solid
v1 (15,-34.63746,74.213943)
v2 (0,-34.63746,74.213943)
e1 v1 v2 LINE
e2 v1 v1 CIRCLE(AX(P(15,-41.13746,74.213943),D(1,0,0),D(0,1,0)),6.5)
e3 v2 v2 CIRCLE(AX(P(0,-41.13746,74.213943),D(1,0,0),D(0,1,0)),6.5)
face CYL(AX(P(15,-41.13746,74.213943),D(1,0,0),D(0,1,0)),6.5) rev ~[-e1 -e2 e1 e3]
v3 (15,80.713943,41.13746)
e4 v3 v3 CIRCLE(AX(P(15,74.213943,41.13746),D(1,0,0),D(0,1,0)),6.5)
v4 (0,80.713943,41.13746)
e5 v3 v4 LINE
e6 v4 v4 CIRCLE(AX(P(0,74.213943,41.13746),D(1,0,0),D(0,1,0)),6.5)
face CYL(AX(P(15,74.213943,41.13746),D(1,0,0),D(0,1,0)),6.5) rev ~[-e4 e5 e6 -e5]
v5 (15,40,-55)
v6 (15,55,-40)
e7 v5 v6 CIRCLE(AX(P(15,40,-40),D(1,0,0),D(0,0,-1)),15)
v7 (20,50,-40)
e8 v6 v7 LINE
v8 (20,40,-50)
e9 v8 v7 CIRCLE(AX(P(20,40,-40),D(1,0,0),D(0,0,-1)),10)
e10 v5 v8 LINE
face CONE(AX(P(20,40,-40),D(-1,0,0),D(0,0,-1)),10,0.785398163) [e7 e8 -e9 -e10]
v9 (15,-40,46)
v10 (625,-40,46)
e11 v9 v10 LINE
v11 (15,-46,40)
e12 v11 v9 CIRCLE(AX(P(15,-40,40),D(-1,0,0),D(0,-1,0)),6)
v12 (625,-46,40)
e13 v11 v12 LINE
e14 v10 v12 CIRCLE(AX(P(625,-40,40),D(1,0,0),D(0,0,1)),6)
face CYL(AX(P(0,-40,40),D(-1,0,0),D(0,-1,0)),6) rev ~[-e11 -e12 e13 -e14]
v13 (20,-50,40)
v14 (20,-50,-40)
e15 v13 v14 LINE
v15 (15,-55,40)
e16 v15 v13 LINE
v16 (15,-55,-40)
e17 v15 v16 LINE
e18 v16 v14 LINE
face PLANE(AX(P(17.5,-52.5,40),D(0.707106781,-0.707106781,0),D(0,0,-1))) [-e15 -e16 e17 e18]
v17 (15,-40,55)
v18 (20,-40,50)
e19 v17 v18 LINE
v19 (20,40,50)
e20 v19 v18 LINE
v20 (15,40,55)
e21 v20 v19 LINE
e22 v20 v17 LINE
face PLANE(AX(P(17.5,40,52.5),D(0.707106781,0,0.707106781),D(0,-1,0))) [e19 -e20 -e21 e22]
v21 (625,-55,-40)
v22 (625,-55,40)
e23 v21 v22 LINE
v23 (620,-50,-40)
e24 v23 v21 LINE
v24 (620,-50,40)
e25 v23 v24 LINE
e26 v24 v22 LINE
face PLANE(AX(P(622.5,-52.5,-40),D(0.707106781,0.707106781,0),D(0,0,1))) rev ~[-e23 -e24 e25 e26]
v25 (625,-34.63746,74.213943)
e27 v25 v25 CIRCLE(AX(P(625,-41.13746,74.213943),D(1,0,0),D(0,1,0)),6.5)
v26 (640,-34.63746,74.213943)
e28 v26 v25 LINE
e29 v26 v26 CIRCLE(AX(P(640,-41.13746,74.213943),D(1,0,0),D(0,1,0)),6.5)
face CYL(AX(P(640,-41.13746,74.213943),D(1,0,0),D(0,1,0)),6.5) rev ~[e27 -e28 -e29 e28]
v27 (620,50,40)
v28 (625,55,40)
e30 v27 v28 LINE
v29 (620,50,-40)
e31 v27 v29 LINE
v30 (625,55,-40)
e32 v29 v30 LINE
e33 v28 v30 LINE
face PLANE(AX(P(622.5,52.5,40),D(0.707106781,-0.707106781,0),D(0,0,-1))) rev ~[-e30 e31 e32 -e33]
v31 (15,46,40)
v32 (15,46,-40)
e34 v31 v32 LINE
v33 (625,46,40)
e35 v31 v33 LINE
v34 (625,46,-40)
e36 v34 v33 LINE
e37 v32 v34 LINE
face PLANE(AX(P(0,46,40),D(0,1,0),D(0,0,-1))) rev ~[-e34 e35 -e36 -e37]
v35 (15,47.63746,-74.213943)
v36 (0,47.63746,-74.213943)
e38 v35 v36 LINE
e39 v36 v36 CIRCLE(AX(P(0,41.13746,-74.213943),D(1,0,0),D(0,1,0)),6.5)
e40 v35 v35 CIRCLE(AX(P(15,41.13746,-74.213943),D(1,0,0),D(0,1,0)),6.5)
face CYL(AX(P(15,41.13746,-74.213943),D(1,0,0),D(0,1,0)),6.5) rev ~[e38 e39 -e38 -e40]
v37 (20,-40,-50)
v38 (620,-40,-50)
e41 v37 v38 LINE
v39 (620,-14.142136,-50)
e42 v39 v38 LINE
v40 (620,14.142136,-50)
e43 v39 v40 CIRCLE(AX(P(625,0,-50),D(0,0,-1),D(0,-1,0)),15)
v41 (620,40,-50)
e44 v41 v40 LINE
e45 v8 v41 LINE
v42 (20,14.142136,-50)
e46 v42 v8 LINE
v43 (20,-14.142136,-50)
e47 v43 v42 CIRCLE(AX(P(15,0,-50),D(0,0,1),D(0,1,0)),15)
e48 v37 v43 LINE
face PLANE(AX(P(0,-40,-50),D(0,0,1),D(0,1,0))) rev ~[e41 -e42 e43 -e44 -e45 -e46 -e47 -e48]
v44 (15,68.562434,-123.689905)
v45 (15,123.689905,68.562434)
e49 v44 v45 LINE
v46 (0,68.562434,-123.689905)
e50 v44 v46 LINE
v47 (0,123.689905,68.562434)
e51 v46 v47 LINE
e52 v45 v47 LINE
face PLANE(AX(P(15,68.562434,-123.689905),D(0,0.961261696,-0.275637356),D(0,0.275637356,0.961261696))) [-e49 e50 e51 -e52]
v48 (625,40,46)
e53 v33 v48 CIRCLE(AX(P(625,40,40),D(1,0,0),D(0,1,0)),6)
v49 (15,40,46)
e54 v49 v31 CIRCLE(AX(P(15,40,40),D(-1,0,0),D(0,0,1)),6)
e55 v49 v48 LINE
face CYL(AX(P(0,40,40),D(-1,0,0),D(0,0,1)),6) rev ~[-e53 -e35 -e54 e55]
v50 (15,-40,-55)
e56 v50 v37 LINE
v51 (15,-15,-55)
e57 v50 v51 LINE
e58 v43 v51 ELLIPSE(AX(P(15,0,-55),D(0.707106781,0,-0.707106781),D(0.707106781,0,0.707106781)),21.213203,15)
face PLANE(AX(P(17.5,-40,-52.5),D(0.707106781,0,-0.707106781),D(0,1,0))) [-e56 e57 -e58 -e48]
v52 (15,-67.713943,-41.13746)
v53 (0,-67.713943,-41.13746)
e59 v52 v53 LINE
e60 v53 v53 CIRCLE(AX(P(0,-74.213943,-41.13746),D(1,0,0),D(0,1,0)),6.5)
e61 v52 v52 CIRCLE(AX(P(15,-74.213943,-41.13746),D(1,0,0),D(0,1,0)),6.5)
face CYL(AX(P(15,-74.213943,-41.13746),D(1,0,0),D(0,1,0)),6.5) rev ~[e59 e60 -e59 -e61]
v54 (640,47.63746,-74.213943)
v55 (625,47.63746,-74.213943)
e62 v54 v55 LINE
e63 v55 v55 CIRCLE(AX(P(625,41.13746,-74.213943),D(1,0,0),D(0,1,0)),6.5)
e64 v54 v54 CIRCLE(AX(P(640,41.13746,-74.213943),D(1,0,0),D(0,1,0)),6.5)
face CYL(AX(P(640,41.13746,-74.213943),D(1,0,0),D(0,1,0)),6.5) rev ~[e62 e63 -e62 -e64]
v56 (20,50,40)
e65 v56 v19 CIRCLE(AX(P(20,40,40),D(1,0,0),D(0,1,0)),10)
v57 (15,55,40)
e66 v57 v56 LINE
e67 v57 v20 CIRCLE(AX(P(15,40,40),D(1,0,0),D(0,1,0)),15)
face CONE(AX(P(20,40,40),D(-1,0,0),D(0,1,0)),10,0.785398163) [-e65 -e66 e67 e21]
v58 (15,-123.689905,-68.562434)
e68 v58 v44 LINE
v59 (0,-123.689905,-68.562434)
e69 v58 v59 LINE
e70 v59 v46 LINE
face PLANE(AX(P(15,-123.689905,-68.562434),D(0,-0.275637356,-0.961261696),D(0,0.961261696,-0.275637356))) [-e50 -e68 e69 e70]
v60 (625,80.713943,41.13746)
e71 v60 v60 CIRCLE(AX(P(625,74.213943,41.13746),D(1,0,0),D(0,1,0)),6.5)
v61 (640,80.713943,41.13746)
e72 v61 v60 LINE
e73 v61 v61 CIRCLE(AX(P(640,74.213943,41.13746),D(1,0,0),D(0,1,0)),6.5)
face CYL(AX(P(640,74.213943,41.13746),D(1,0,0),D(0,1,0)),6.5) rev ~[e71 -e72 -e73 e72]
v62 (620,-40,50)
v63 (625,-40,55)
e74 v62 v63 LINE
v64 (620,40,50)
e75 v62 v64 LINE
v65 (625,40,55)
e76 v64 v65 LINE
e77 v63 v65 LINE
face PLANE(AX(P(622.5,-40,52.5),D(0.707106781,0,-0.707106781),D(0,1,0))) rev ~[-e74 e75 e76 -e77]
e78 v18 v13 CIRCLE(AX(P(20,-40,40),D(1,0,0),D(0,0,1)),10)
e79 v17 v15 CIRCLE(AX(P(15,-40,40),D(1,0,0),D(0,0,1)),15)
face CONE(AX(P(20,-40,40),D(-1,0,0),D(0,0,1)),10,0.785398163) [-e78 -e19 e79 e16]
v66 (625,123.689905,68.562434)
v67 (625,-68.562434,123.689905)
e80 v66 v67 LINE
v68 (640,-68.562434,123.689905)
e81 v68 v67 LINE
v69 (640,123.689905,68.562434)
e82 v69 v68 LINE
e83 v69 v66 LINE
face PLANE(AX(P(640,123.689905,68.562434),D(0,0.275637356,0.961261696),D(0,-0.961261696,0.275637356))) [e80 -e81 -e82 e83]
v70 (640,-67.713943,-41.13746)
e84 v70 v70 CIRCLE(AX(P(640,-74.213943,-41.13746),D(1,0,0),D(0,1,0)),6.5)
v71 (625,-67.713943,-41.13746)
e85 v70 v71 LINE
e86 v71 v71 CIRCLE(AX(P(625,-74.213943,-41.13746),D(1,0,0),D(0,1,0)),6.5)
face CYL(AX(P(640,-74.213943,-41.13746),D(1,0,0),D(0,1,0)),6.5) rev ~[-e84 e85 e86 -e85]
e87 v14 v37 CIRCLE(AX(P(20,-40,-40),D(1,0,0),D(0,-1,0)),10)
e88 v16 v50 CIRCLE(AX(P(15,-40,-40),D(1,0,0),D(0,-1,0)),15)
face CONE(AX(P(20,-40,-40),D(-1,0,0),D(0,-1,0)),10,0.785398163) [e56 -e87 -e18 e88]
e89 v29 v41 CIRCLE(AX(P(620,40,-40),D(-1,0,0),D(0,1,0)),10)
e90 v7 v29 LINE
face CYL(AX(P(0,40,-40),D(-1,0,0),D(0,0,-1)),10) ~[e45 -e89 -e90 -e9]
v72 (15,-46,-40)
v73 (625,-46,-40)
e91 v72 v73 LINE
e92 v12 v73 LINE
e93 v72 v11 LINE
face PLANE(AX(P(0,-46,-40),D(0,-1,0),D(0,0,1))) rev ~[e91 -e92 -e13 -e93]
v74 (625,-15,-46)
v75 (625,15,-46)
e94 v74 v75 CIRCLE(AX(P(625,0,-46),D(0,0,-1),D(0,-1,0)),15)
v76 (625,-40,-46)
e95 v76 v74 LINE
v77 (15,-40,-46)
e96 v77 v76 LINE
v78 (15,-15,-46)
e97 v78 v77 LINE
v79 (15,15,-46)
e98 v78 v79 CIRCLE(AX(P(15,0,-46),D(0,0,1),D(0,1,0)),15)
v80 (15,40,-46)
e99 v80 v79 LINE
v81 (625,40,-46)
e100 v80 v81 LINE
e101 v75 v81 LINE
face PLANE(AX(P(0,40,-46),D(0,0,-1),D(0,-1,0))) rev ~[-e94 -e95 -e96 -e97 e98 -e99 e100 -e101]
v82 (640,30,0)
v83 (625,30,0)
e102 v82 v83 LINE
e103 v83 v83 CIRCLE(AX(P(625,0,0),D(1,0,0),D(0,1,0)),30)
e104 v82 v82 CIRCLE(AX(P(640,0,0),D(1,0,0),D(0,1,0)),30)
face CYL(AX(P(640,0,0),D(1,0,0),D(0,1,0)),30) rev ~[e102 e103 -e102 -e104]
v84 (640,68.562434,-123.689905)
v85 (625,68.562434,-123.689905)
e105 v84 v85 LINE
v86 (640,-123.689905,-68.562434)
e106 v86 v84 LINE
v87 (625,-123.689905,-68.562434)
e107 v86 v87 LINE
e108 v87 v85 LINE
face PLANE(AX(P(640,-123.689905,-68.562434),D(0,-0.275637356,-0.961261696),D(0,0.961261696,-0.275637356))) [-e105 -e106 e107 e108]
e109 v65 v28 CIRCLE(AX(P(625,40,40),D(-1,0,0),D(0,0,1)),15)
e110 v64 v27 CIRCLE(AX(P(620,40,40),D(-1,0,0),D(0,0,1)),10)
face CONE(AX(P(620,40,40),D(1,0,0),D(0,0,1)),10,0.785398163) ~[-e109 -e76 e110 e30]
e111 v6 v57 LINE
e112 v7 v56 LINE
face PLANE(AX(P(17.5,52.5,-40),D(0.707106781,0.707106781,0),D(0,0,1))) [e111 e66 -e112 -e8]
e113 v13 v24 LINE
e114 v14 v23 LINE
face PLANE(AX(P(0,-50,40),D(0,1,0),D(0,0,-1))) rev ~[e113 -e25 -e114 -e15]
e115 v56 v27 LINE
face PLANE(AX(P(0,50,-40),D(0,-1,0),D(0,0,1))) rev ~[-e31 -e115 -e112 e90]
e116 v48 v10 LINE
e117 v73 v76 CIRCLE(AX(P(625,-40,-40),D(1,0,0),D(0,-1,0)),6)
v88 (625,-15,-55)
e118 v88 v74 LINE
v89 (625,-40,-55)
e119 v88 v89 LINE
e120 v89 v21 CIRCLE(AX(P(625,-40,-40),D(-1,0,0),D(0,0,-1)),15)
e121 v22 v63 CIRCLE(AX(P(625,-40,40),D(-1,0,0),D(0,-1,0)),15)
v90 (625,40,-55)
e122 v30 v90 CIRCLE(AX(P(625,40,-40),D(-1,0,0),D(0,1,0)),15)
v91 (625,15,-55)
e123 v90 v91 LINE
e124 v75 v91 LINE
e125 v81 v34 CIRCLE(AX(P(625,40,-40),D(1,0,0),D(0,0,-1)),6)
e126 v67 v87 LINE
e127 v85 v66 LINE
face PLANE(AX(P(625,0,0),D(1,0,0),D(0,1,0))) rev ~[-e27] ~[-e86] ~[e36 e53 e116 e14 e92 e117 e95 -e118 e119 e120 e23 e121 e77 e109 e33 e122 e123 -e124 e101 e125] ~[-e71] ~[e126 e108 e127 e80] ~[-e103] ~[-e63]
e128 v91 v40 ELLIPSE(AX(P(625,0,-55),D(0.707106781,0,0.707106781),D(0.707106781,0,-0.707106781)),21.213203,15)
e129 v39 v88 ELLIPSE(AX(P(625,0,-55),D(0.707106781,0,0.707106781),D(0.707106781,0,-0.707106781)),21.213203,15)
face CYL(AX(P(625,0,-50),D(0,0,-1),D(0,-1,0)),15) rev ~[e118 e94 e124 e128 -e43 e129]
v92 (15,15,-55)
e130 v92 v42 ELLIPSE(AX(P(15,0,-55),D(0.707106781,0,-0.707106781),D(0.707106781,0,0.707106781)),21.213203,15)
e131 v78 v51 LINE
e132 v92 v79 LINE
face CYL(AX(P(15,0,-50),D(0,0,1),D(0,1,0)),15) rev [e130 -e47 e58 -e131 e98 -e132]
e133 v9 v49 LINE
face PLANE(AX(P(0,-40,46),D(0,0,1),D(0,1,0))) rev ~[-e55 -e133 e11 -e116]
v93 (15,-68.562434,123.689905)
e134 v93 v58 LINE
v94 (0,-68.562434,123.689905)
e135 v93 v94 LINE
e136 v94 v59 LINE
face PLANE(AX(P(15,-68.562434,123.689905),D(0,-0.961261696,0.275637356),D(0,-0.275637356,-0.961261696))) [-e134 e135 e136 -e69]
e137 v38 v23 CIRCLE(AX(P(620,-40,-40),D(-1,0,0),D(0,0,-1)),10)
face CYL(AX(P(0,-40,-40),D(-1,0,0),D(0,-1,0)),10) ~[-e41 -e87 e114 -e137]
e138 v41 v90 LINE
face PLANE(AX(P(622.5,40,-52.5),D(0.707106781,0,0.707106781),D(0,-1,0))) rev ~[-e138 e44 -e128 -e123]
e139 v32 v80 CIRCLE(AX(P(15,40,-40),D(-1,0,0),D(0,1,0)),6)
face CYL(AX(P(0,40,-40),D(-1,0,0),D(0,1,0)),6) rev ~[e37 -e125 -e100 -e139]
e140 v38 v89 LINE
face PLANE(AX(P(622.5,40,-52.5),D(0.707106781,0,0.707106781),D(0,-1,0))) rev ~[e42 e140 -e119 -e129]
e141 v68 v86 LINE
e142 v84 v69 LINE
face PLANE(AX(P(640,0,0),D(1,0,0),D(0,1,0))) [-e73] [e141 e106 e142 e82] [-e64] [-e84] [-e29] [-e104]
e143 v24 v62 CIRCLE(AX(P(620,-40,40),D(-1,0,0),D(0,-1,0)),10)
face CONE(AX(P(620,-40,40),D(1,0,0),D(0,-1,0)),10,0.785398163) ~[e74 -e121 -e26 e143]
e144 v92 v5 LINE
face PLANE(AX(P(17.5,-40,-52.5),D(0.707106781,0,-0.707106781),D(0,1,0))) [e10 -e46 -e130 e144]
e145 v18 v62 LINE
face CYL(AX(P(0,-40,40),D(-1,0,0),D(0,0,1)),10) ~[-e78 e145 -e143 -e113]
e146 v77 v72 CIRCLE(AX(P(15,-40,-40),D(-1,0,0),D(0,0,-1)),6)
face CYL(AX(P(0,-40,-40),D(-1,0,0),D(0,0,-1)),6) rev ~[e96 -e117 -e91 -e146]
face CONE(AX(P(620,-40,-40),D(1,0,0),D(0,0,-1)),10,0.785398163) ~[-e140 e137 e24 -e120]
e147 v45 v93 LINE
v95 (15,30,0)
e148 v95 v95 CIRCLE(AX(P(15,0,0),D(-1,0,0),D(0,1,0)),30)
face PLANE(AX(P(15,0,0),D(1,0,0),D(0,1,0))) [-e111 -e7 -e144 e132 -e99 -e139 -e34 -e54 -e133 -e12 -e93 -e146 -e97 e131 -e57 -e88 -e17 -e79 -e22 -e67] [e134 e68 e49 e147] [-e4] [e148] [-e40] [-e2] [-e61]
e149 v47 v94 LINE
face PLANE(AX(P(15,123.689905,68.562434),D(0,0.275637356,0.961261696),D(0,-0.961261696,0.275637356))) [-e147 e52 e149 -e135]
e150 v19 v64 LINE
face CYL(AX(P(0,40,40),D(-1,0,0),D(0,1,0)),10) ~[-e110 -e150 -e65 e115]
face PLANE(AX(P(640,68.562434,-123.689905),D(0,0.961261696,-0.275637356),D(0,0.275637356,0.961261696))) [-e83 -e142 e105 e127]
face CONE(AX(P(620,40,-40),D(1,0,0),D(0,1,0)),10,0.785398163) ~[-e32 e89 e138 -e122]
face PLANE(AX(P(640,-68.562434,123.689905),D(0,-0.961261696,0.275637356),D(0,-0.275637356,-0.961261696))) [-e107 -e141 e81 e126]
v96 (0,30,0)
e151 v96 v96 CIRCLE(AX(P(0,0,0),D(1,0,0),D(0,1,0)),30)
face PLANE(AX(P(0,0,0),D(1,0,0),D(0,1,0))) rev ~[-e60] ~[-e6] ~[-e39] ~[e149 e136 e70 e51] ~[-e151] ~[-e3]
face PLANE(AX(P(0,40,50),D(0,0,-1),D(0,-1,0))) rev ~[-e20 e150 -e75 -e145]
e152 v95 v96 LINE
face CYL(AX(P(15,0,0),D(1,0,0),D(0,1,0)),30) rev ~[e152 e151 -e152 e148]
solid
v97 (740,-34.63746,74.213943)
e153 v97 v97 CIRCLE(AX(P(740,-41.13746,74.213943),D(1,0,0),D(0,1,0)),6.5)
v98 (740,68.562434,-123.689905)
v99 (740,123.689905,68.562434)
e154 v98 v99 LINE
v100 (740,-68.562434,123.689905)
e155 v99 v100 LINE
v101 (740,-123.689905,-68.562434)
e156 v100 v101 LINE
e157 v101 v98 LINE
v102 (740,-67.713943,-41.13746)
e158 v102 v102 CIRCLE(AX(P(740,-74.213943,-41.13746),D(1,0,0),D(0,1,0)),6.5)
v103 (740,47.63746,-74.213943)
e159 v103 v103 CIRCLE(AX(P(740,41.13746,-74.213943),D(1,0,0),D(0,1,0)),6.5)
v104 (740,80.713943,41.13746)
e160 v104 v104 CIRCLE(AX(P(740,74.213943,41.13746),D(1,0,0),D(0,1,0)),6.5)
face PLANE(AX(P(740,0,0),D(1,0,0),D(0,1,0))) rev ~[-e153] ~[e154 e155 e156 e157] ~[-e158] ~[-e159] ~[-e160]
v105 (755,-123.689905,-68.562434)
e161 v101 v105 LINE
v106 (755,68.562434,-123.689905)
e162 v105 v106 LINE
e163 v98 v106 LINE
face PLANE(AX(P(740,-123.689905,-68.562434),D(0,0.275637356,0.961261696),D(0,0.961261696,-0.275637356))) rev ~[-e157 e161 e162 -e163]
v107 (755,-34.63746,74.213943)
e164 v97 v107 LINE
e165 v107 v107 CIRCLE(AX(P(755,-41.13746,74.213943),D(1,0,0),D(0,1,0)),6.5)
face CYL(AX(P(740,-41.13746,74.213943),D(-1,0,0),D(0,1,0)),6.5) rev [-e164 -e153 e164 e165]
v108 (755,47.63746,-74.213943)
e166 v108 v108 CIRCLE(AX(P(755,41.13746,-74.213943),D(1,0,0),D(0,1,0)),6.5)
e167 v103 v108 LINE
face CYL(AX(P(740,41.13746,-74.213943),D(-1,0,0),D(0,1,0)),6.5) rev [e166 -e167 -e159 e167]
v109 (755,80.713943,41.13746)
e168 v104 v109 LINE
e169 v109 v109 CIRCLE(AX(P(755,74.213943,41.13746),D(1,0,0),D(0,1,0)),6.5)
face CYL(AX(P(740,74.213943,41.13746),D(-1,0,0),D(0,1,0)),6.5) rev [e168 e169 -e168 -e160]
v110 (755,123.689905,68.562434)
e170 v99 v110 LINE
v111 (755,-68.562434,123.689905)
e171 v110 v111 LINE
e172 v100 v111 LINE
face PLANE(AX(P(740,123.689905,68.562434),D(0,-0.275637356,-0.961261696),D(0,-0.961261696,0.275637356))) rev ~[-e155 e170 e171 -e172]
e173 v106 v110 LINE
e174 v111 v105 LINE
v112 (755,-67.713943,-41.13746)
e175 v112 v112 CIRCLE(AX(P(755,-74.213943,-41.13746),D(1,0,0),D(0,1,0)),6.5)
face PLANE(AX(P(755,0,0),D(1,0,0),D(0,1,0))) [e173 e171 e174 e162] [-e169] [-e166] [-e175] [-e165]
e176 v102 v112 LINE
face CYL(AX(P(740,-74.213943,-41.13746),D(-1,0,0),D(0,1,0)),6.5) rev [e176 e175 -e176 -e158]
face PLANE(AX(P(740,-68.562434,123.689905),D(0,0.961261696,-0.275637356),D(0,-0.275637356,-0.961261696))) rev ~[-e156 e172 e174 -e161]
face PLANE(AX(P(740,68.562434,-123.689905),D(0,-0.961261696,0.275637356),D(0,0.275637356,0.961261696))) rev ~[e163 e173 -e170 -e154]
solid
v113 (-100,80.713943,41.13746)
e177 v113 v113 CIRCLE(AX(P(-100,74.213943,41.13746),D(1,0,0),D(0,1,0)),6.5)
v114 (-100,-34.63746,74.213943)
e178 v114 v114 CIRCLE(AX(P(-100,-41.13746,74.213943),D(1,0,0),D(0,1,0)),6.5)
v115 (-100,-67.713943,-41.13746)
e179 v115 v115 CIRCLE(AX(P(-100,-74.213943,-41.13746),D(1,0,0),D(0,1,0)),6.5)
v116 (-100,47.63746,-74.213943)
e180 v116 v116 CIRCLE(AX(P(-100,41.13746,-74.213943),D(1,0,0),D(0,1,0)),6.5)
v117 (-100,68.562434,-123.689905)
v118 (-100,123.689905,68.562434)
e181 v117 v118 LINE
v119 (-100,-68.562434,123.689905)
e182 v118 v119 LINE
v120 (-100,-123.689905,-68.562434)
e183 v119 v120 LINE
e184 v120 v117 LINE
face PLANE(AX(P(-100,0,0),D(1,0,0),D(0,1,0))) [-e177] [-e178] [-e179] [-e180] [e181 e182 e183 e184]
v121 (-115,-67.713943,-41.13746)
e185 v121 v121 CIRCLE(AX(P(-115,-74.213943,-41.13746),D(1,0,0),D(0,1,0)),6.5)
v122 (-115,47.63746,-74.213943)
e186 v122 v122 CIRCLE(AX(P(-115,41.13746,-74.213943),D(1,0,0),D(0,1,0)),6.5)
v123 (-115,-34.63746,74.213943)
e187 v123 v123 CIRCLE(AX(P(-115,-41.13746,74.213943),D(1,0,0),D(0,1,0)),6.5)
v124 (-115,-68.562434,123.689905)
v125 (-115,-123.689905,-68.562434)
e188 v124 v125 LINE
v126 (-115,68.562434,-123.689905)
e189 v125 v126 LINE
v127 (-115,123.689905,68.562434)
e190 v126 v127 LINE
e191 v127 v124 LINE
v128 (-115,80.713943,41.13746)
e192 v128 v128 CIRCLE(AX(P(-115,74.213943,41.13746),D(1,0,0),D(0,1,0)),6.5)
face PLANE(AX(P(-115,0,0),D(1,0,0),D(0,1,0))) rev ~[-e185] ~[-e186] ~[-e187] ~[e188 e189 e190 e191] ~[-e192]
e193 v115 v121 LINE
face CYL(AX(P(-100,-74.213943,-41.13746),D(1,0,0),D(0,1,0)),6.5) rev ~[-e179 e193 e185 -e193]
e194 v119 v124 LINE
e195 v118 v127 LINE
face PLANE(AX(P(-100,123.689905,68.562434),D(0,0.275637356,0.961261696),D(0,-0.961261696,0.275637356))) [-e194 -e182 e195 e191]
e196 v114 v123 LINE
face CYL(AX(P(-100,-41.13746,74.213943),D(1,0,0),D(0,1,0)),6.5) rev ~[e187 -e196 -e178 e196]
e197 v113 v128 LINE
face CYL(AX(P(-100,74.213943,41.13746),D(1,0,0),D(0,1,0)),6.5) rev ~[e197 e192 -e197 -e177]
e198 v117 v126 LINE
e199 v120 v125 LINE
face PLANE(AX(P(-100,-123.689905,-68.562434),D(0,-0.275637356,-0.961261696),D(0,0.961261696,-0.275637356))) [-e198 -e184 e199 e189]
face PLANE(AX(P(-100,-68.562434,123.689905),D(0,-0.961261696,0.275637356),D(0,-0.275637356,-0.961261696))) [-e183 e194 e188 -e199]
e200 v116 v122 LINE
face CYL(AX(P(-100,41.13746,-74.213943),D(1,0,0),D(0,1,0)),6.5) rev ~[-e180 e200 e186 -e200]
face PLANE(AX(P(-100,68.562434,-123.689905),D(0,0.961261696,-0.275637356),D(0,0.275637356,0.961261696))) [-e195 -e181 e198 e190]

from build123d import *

# Parameters (mm, degrees)
F1_DEPTH = 640
F2_R     = 6.5
F2_R_2   = 30
F3_DEPTH = 15
F4_START = -625
F4_DEPTH = 15
F5_SIZE  = 5
F7_DEPTH = 25
F8_START = 100
F8_DEPTH = 15
F9_START = -740
F9_DEPTH = 15


with BuildPart() as f1:
    # F0 (on Right) → F1 (new body)
    with BuildSketch(Plane.YZ):
        with BuildLine():
            Line((40, 50), (-40, 50))
            ThreePointArc((-40, 50), (-47.0710678119, 47.0710678119), (-50, 40))
            Line((-50, 40), (-50, -40))
            ThreePointArc((-50, -40), (-47.0710678119, -47.0710678119), (-40, -50))
            Line((-40, -50), (40, -50))
            ThreePointArc((40, -50), (47.0710678119, -47.0710678119), (50, -40))
            Line((50, -40), (50, 40))
            ThreePointArc((50, 40), (47.0710678119, 47.0710678119), (40, 50))
        make_face()
        with BuildLine():
            ThreePointArc((-46, 40), (-44.2426406871, 44.2426406871), (-40, 46))
            Line((-40, 46), (40, 46))
            ThreePointArc((40, 46), (44.2426406871, 44.2426406871), (46, 40))
            Line((46, 40), (46, -40))
            ThreePointArc((46, -40), (44.2426406871, -44.2426406871), (40, -46))
            Line((40, -46), (-40, -46))
            ThreePointArc((-40, -46), (-44.2426406871, -44.2426406871), (-46, -40))
            Line((-46, -40), (-46, 40))
        make_face(mode=Mode.SUBTRACT)
    extrude(amount=F1_DEPTH)

    # F2 (on face) → F3 (join)
    with BuildSketch(Plane.YZ.offset(640)):
        Polygon((68.5624340121, -123.6899051755), (123.6899051755, 68.5624340121), (-68.5624340121, 123.6899051755), (-123.6899051755, -68.5624340121), align=None)
        with Locations((-74.2139431053, -41.1374604073)):
            Circle(F2_R, mode=Mode.SUBTRACT)
        with Locations((41.1374604073, -74.2139431053)):
            Circle(F2_R, mode=Mode.SUBTRACT)
        with Locations((-41.1374604073, 74.2139431053)):
            Circle(F2_R, mode=Mode.SUBTRACT)
        with BuildLine():
            Line((-40, 50), (40, 50))
            ThreePointArc((40, 50), (47.0710678119, 47.0710678119), (50, 40))
            Line((50, 40), (50, -40))
            ThreePointArc((50, -40), (47.0710678119, -47.0710678119), (40, -50))
            Line((40, -50), (-40, -50))
            ThreePointArc((-40, -50), (-47.0710678119, -47.0710678119), (-50, -40))
            Line((-50, -40), (-50, 40))
            ThreePointArc((-50, 40), (-47.0710678119, 47.0710678119), (-40, 50))
        make_face(mode=Mode.SUBTRACT)
        with Locations((74.2139431053, 41.1374604073)):
            Circle(F2_R, mode=Mode.SUBTRACT)
        with BuildLine():
            ThreePointArc((-40, 46), (-44.2426406871, 44.2426406871), (-46, 40))
            Line((-46, 40), (-46, -40))
            ThreePointArc((-46, -40), (-44.2426406871, -44.2426406871), (-40, -46))
            Line((-40, -46), (40, -46))
            ThreePointArc((40, -46), (44.2426406871, -44.2426406871), (46, -40))
            Line((46, -40), (46, 40))
            ThreePointArc((46, 40), (44.2426406871, 44.2426406871), (40, 46))
            Line((40, 46), (-40, 46))
        make_face()
        Circle(F2_R_2, mode=Mode.SUBTRACT)
    extrude(amount=-F3_DEPTH)

    # F2 (on face) → F4 (join)
    with BuildSketch(Plane.YZ.offset(640).offset(F4_START)):
        Polygon((68.5624340121, -123.6899051755), (123.6899051755, 68.5624340121), (-68.5624340121, 123.6899051755), (-123.6899051755, -68.5624340121), align=None)
        with Locations((-74.2139431053, -41.1374604073)):
            Circle(F2_R, mode=Mode.SUBTRACT)
        with Locations((41.1374604073, -74.2139431053)):
            Circle(F2_R, mode=Mode.SUBTRACT)
        with Locations((-41.1374604073, 74.2139431053)):
            Circle(F2_R, mode=Mode.SUBTRACT)
        Circle(F2_R_2, mode=Mode.SUBTRACT)
        with Locations((74.2139431053, 41.1374604073)):
            Circle(F2_R, mode=Mode.SUBTRACT)
    extrude(amount=-F4_DEPTH)

    # F5
    f5_edges = [f1.edges().sort_by_distance(p)[0] for p in [
        (625, 0, 50),
        (625, 47.071068, 47.071068),
        (625, 50, 0),
        (625, 47.071068, -47.071068),
        (625, -47.071068, 47.071068),
        (625, -50, 0),
        (625, -47.071068, -47.071068),
        (625, 0, -50),
        (15, -50, 0),
        (15, -47.071068, 47.071068),
        (15, -47.071068, -47.071068),
        (15, 0, -50),
        (15, 47.071068, -47.071068),
        (15, 50, 0),
        (15, 47.071068, 47.071068),
        (15, 0, 50),
    ]]
    chamfer(f5_edges, length=F5_SIZE)

    # F6 (on face) → F7 (cut, symmetric)
    with BuildSketch(Plane(origin=(0, 0, -50), x_dir=(1, 0, 0), z_dir=(0, 0, -1))):
        with BuildLine():
            ThreePointArc((15, -15), (30, 0), (15, 15))
            Line((15, 15), (15, -15))
        make_face()
        with BuildLine():
            ThreePointArc((625, 15), (610, 0), (625, -15))
            Line((625, -15), (625, 15))
        make_face()
    extrude(amount=F7_DEPTH, both=True, mode=Mode.SUBTRACT)


with BuildPart() as f8:
    # F2 (on face) → F8 (new body)
    with BuildSketch(Plane.YZ.offset(640).offset(F8_START)):
        Polygon((68.5624340121, -123.6899051755), (123.6899051755, 68.5624340121), (-68.5624340121, 123.6899051755), (-123.6899051755, -68.5624340121), align=None)
        with Locations((-74.2139431053, -41.1374604073)):
            Circle(F2_R, mode=Mode.SUBTRACT)
        with Locations((41.1374604073, -74.2139431053)):
            Circle(F2_R, mode=Mode.SUBTRACT)
        with Locations((-41.1374604073, 74.2139431053)):
            Circle(F2_R, mode=Mode.SUBTRACT)
        Circle(F2_R_2, mode=Mode.SUBTRACT)
        with Locations((74.2139431053, 41.1374604073)):
            Circle(F2_R, mode=Mode.SUBTRACT)
        Circle(F2_R_2)
    extrude(amount=F8_DEPTH)


with BuildPart() as f9:
    # F2 (on face) → F9 (new body)
    with BuildSketch(Plane.YZ.offset(640).offset(F9_START)):
        Polygon((68.5624340121, -123.6899051755), (123.6899051755, 68.5624340121), (-68.5624340121, 123.6899051755), (-123.6899051755, -68.5624340121), align=None)
        with Locations((-74.2139431053, -41.1374604073)):
            Circle(F2_R, mode=Mode.SUBTRACT)
        with Locations((41.1374604073, -74.2139431053)):
            Circle(F2_R, mode=Mode.SUBTRACT)
        with Locations((-41.1374604073, 74.2139431053)):
            Circle(F2_R, mode=Mode.SUBTRACT)
        Circle(F2_R_2, mode=Mode.SUBTRACT)
        with Locations((74.2139431053, 41.1374604073)):
            Circle(F2_R, mode=Mode.SUBTRACT)
        Circle(F2_R_2)
    extrude(amount=-F9_DEPTH)


solid = Compound([f1.part, f8.part, f9.part])
